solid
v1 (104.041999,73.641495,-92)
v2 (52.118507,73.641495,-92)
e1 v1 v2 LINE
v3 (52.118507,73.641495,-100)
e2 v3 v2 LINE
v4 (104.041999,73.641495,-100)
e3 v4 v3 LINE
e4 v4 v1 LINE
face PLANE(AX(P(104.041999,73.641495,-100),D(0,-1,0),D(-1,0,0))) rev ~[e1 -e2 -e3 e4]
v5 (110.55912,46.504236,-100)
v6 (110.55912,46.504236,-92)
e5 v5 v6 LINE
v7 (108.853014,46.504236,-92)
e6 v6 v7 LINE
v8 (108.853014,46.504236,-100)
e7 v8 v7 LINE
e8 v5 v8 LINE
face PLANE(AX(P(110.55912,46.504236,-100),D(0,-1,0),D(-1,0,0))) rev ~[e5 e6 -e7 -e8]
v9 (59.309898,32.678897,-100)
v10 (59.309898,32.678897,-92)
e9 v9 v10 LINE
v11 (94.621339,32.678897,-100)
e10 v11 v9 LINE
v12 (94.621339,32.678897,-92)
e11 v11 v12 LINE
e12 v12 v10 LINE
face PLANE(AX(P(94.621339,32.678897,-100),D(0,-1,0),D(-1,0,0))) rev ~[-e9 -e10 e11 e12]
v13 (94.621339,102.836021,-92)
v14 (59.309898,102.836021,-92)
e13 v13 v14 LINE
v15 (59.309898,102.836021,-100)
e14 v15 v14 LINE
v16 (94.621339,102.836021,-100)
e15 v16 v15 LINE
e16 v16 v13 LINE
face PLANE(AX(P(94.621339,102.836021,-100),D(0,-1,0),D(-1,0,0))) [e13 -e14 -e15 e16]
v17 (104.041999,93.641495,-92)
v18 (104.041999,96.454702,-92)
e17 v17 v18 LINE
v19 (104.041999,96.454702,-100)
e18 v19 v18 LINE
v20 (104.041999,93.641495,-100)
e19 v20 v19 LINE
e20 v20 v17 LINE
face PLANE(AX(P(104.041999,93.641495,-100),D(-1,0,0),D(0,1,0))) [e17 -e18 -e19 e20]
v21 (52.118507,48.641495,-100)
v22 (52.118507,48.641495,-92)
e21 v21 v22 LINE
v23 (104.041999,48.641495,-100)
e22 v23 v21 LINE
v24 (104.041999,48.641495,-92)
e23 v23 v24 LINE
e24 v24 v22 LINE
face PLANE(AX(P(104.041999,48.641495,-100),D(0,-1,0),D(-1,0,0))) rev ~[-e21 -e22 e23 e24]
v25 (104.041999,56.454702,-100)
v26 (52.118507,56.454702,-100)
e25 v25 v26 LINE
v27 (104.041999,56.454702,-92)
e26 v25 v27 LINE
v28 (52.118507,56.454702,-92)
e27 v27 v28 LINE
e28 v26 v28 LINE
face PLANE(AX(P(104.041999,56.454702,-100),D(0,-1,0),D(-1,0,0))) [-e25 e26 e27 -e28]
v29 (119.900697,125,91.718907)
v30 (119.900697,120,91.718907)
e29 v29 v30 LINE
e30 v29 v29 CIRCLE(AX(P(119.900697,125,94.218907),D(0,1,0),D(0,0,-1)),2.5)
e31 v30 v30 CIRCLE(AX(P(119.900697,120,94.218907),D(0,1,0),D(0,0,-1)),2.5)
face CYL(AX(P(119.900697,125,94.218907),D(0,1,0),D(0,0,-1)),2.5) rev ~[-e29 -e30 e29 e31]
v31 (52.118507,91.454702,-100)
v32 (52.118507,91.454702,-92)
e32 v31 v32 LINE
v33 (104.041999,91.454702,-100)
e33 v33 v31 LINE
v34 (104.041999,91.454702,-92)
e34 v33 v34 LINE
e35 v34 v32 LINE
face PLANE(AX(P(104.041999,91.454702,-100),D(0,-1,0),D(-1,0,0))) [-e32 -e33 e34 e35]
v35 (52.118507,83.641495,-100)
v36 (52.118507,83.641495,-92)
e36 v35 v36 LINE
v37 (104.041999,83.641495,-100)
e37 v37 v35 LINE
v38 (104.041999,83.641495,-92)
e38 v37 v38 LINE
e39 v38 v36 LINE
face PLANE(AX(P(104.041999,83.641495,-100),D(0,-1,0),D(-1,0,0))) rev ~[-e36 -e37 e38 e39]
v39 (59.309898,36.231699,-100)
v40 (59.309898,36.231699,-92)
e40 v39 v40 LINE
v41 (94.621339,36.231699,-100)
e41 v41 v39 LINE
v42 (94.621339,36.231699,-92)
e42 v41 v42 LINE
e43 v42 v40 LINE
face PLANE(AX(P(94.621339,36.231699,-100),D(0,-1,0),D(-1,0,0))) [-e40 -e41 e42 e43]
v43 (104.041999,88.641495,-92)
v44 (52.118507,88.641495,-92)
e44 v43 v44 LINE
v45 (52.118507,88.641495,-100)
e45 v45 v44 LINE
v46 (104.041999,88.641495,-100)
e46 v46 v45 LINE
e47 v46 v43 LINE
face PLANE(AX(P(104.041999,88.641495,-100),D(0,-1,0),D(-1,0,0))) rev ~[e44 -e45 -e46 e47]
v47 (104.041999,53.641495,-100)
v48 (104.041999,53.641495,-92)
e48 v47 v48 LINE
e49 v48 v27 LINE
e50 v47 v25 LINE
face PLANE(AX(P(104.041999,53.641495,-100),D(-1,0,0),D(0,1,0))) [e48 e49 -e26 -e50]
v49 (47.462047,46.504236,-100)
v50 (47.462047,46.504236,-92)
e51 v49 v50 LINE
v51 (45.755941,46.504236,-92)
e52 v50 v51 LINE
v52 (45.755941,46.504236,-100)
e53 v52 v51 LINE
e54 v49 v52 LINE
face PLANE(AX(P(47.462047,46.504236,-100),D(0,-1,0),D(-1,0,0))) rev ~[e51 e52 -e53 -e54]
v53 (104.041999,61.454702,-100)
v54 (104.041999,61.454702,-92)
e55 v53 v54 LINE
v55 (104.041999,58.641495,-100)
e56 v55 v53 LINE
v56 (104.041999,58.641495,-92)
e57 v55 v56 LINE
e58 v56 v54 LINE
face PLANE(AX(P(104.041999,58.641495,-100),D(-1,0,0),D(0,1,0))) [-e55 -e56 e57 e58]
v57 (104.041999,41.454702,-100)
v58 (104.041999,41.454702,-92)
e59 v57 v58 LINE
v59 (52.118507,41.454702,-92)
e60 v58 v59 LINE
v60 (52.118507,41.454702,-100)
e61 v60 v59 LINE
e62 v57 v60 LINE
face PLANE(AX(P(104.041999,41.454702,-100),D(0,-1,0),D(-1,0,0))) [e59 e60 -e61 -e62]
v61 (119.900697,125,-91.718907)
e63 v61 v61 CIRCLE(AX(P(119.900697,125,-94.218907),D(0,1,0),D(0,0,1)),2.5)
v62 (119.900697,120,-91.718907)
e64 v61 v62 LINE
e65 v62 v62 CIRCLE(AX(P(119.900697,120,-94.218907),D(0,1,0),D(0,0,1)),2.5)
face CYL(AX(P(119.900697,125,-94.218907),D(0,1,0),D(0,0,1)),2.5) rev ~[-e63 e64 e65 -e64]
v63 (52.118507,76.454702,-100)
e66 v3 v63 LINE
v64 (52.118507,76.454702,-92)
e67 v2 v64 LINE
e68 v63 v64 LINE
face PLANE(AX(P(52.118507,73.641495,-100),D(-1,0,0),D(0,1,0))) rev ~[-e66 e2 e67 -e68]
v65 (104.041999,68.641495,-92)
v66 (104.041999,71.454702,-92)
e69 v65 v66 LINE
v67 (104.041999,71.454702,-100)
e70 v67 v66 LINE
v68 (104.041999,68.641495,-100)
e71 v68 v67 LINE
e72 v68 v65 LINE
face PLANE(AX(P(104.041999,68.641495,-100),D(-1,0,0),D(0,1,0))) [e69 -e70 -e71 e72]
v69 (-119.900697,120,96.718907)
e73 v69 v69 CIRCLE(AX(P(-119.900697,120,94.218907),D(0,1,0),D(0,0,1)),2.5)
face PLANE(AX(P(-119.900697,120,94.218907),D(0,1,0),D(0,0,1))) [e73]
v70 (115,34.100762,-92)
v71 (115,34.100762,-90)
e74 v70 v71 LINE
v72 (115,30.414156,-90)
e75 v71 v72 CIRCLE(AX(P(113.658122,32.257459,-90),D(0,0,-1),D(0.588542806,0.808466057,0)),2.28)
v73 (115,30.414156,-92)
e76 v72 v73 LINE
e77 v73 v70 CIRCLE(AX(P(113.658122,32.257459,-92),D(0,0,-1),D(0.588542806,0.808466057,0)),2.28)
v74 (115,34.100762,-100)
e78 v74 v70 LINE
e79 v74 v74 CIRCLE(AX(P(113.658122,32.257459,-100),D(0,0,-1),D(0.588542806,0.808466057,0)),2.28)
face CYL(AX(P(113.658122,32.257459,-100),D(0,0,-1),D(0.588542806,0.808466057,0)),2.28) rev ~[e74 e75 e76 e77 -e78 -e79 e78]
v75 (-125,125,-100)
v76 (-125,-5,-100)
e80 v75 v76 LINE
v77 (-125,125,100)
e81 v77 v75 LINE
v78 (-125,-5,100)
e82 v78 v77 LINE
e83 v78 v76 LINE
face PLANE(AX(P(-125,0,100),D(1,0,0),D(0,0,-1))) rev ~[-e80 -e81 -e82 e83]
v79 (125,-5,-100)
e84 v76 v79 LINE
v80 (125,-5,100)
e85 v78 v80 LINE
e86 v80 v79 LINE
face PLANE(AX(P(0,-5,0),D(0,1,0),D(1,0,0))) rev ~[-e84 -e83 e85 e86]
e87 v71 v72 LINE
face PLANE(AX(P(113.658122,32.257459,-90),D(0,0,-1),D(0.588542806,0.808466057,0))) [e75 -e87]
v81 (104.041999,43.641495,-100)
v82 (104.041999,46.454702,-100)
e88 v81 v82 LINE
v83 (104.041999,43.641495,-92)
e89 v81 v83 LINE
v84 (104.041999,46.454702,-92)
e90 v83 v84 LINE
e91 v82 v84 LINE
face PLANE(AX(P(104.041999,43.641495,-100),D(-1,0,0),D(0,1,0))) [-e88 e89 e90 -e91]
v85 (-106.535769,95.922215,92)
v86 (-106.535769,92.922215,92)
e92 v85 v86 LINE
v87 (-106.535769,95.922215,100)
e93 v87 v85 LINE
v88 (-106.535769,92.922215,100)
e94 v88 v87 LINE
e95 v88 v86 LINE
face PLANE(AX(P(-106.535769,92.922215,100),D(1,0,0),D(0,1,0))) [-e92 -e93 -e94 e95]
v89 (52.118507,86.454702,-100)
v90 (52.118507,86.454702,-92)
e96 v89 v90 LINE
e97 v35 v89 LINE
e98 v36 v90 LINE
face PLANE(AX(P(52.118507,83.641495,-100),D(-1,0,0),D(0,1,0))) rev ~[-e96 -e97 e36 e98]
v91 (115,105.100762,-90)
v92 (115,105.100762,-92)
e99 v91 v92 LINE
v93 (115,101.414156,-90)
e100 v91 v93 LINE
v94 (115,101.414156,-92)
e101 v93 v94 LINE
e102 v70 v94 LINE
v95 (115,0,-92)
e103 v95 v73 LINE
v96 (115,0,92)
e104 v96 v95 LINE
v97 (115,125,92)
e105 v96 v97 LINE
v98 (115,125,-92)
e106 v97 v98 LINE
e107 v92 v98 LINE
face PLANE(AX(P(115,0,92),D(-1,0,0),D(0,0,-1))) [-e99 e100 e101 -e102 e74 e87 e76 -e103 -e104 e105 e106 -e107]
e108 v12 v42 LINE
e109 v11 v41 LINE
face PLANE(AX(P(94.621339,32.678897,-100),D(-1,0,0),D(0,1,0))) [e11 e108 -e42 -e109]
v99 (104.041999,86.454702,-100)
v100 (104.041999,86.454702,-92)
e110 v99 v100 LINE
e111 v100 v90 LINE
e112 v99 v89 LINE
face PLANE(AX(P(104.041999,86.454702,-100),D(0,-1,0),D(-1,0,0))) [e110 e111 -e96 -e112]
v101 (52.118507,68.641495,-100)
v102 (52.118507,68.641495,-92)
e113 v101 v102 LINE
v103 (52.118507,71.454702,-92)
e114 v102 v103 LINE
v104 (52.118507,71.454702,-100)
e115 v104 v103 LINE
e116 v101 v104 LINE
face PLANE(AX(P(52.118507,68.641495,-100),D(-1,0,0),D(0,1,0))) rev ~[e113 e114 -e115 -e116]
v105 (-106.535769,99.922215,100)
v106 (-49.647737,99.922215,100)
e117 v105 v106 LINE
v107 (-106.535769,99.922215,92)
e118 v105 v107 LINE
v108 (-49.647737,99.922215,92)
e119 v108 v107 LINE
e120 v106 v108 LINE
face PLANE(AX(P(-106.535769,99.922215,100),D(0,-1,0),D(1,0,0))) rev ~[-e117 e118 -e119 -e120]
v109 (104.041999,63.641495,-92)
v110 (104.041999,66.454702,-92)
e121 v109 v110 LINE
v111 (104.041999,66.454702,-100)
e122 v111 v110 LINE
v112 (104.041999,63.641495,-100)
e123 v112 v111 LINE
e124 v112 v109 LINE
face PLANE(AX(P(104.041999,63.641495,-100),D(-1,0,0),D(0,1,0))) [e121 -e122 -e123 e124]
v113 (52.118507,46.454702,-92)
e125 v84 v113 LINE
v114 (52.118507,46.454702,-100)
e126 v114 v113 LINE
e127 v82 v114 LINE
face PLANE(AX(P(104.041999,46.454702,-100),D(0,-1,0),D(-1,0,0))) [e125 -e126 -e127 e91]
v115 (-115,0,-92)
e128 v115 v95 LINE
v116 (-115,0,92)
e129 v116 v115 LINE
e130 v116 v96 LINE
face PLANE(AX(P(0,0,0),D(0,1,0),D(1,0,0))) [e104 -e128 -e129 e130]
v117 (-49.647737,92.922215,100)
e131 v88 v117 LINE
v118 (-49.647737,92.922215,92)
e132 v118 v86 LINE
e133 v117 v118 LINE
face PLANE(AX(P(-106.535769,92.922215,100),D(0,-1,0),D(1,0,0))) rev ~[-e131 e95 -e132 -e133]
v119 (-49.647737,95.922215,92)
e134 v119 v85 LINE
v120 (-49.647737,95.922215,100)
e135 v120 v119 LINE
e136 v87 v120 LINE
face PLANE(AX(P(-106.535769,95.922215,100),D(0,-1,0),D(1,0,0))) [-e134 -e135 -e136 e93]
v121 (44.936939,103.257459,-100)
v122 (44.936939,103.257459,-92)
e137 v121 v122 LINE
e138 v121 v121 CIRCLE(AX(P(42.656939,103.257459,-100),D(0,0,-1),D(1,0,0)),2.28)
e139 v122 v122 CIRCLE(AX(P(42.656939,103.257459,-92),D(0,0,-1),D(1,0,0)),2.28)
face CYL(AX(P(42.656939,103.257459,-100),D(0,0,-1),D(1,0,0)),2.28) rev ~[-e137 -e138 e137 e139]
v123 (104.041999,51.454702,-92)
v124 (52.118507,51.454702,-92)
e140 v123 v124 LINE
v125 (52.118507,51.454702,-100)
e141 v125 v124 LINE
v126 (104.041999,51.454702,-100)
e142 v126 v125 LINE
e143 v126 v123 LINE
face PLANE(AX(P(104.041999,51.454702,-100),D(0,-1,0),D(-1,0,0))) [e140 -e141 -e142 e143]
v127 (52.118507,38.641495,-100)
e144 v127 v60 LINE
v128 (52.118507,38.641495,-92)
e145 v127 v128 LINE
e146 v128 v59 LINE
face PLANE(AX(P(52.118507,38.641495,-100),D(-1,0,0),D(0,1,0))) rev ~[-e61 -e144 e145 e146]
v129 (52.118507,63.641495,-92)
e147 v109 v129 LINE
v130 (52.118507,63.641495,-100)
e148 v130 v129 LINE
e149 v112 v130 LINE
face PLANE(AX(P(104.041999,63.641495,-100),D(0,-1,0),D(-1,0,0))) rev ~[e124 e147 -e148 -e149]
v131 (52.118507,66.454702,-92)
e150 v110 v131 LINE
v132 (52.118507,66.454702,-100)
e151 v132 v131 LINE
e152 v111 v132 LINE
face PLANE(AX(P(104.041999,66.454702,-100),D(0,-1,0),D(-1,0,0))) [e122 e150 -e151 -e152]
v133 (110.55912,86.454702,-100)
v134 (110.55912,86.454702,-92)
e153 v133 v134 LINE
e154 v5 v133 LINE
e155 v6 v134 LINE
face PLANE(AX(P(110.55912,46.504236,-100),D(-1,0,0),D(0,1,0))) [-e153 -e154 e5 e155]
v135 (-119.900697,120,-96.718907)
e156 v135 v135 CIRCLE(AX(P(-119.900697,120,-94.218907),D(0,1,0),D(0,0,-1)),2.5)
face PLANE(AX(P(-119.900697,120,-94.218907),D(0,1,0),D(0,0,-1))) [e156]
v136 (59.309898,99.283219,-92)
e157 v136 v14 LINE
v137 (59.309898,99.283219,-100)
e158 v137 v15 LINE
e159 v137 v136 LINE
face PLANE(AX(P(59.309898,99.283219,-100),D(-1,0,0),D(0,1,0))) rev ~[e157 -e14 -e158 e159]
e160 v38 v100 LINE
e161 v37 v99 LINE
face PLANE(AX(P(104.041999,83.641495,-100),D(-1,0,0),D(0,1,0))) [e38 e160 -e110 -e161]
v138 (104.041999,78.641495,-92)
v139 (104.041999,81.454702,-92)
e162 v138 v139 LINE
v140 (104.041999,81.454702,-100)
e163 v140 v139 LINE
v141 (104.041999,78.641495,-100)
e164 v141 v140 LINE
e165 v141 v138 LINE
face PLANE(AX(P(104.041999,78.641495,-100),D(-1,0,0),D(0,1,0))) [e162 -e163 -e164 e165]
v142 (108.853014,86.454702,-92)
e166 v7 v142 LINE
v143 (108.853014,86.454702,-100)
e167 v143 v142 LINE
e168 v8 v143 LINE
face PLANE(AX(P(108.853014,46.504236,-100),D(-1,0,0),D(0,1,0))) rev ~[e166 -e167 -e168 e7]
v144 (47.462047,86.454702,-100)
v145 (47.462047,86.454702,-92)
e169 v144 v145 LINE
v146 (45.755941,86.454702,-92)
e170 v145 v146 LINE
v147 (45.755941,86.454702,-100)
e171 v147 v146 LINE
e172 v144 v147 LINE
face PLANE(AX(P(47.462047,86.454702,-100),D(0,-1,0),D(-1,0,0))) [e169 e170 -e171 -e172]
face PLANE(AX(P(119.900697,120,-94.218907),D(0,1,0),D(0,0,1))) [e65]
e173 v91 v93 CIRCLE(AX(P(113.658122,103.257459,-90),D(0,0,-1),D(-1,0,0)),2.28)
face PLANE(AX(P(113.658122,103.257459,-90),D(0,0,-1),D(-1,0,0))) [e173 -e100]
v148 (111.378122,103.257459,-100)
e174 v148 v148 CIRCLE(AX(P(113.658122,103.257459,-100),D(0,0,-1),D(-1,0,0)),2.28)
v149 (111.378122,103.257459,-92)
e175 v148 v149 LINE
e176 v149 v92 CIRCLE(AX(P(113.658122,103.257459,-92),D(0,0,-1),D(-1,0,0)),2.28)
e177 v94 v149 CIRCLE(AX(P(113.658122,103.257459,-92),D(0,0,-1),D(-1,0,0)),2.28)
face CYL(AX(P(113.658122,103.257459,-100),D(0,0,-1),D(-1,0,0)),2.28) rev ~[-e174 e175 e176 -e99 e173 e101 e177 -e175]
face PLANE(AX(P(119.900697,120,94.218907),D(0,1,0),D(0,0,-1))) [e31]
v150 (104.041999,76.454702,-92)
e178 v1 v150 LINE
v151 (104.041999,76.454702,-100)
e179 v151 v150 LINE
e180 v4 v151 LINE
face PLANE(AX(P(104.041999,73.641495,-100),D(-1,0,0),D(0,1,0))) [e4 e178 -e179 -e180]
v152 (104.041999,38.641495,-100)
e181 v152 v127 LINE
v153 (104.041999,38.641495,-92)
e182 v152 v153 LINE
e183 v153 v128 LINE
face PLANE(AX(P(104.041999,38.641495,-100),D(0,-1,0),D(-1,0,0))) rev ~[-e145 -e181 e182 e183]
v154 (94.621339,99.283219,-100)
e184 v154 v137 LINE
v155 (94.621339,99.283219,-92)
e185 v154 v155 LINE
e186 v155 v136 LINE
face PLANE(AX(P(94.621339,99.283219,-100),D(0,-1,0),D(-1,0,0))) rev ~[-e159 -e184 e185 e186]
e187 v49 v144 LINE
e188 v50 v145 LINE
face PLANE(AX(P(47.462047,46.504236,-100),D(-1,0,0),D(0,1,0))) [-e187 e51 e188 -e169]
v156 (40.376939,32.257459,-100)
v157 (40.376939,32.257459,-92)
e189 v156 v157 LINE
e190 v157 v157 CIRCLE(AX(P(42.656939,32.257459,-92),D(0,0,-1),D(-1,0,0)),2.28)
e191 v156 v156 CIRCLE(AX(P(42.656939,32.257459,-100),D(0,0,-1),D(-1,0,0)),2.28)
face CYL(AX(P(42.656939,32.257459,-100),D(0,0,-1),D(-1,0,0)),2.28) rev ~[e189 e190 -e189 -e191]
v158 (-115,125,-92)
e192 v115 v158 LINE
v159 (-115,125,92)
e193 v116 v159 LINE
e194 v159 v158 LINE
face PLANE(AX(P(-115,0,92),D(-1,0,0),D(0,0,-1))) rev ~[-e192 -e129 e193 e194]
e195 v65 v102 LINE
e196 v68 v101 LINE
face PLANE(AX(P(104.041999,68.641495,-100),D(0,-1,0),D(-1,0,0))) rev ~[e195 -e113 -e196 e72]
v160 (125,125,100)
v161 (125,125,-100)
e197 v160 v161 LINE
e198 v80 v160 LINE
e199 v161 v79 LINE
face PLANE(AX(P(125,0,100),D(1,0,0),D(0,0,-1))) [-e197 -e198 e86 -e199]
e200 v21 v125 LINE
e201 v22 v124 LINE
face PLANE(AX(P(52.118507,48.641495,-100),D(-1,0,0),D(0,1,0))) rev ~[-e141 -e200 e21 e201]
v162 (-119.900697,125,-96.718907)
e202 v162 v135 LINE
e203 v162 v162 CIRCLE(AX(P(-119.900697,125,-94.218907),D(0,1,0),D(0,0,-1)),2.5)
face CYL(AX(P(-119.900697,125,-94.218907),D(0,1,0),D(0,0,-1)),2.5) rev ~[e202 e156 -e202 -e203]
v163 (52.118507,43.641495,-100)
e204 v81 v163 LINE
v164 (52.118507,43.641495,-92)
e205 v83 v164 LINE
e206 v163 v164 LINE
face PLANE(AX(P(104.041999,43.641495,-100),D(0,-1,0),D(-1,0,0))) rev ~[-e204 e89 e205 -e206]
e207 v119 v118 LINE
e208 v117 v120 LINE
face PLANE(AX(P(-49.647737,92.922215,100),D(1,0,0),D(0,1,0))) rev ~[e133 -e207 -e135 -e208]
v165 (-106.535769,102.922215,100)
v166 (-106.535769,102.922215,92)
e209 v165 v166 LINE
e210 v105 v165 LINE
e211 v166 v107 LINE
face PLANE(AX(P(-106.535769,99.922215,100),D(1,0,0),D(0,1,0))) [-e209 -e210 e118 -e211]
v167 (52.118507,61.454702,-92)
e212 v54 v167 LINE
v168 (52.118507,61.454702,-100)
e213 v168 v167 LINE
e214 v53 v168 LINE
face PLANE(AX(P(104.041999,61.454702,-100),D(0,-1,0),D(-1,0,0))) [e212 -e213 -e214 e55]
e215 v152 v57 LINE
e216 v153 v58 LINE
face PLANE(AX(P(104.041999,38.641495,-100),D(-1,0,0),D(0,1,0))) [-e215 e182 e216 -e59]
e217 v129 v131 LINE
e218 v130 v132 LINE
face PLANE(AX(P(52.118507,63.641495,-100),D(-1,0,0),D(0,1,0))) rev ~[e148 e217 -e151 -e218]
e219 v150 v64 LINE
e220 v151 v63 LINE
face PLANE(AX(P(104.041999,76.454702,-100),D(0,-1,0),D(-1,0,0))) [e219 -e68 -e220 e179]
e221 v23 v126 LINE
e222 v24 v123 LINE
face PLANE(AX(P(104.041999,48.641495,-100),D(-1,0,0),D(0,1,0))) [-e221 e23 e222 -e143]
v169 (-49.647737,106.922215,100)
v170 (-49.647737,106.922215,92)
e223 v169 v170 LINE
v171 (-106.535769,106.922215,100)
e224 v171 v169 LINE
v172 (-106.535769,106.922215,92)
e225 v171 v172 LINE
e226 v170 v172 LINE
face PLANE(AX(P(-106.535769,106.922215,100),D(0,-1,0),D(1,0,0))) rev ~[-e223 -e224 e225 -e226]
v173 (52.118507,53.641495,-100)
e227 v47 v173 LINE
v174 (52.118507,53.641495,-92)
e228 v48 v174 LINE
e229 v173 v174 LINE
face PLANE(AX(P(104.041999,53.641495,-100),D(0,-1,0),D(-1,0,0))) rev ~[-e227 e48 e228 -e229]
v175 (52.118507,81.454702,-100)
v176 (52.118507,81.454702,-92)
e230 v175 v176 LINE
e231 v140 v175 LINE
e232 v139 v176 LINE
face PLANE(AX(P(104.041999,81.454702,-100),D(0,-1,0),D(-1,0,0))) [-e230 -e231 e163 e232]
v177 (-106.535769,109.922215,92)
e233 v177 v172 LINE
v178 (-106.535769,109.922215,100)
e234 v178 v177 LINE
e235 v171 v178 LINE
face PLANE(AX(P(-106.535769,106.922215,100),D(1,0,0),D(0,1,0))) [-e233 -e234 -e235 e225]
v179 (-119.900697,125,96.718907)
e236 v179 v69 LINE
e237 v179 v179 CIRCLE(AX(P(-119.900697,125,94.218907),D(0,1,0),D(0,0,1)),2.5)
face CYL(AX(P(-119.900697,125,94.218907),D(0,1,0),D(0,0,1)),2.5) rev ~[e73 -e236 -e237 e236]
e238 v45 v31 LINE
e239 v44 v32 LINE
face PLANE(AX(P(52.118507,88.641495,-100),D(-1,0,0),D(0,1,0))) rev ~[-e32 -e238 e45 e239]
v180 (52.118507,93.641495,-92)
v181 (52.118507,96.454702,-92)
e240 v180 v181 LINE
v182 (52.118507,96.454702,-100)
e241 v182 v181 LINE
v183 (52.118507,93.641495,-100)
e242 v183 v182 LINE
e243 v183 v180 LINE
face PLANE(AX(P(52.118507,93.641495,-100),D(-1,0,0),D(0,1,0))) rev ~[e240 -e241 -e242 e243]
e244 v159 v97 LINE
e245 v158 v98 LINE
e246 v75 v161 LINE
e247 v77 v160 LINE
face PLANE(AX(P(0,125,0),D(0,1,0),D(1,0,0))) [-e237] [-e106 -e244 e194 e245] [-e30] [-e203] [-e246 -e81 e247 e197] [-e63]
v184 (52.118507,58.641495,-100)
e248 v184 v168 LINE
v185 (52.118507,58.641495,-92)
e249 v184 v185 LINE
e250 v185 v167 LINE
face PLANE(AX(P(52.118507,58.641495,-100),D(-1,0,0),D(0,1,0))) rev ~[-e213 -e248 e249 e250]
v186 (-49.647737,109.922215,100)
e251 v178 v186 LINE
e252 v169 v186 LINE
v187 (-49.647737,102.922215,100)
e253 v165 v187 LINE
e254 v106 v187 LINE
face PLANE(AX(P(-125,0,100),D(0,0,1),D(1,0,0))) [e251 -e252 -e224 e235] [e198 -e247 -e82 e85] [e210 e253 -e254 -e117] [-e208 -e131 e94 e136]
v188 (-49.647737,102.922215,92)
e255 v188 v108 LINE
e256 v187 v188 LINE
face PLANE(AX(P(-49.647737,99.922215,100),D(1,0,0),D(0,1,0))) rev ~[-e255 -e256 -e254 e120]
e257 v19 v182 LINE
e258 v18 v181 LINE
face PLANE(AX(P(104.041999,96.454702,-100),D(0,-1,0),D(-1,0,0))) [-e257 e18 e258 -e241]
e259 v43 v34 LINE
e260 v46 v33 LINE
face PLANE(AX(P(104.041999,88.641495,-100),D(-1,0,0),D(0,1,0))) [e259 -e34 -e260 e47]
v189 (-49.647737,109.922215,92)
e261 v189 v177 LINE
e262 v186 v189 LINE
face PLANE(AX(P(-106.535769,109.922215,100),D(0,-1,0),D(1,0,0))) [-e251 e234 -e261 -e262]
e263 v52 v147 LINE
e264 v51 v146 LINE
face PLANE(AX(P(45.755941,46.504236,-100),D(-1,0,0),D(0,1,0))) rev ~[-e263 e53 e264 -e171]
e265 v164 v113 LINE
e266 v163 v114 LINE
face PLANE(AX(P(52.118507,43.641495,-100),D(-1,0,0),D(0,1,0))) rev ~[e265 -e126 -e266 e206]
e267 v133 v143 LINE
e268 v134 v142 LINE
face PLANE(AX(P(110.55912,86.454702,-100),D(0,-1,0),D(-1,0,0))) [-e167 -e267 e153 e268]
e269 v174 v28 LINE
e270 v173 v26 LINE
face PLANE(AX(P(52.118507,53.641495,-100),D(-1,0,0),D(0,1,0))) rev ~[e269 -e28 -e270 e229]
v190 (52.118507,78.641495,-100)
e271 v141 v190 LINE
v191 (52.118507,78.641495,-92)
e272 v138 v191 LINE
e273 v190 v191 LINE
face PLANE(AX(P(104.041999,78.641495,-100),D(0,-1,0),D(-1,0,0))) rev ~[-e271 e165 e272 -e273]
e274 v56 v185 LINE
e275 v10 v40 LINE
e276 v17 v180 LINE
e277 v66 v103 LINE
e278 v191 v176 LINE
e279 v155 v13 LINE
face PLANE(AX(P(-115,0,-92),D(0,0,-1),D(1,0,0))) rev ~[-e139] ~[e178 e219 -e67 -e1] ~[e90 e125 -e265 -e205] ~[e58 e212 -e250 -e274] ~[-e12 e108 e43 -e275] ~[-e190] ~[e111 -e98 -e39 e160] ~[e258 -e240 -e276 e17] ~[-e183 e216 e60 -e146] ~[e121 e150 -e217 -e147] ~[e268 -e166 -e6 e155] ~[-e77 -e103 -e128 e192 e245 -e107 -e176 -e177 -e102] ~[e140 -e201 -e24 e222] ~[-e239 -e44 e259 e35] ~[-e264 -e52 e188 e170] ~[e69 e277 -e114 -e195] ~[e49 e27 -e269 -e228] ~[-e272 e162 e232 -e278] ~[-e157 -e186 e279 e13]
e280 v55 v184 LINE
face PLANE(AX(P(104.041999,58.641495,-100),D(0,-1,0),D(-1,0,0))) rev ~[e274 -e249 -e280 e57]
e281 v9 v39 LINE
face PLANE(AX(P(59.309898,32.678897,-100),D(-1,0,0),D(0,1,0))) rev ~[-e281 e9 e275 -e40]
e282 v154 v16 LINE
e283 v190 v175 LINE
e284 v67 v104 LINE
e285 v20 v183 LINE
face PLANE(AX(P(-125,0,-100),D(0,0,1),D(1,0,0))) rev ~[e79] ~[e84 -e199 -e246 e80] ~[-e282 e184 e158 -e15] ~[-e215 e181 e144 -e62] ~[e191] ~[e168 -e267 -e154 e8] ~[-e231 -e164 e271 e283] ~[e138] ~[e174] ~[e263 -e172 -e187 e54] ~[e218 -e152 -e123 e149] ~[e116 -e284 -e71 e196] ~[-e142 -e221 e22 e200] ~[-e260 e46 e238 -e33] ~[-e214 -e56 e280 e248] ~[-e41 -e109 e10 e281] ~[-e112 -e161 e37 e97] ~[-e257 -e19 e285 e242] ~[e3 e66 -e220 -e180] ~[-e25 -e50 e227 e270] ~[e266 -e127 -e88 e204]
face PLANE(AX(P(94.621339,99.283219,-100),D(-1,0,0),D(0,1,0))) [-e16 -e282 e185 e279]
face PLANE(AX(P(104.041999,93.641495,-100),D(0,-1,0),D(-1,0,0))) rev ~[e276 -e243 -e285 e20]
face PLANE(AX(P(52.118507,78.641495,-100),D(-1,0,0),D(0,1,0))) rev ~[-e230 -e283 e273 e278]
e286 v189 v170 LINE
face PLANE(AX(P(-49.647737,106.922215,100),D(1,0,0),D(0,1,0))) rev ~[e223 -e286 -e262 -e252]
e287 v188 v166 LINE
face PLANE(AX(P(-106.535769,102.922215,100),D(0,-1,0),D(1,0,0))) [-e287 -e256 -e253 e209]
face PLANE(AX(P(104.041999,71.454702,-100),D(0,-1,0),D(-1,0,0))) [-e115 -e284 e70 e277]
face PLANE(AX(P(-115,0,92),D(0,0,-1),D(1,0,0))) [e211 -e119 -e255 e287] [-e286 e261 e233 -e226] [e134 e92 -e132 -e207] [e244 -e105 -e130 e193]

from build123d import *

# Parameters (mm, degrees)
SKETCH1_W           = 250
SKETCH1_H           = 200
SKETCH1_W_2         = 230
SKETCH1_H_2         = 184
BOSS_EXTRUDE1_DEPTH = 125
SKETCH2_W           = 250
SKETCH2_H           = 200
BOSS_EXTRUDE2_DEPTH = 5
SKETCH3_R           = 2.5
CUT_EXTRUDE1_DEPTH  = 5
SKETCH4_W           = 56.888032222
SKETCH4_H           = 3
CUT_EXTRUDE2_DEPTH  = 10
SKETCH5_R           = 2.28
CUT_EXTRUDE3_DEPTH  = 10
SKETCH6_W           = 51.923491606
SKETCH6_H           = 2.813206455
SKETCH6_W_2         = 1.706106107
SKETCH6_H_2         = 39.950466237
SKETCH6_W_3         = 35.31144106
SKETCH6_H_3         = 3.552801372
CUT_EXTRUDE4_DEPTH  = 10


with BuildPart() as part:
    # Sketch1 → Boss-Extrude1 (new body)
    with BuildSketch(Plane(origin=(0, 0, 0), x_dir=(1, 0, 0), z_dir=(0, 1, 0))):
        Rectangle(SKETCH1_W, SKETCH1_H)
        Rectangle(SKETCH1_W_2, SKETCH1_H_2, mode=Mode.SUBTRACT)
    extrude(amount=BOSS_EXTRUDE1_DEPTH)

    # Sketch2 → Boss-Extrude2 (add)
    with BuildSketch(Plane(origin=(0, 0, 0), x_dir=(1, 0, 0), z_dir=(0, 1, 0))):
        Rectangle(SKETCH2_W, SKETCH2_H)
    extrude(amount=-BOSS_EXTRUDE2_DEPTH)

    # Sketch3 → Cut-Extrude1 (cut)
    with BuildSketch(Plane(origin=(0, 125, 0), x_dir=(1, 0, 0), z_dir=(0, 1, 0))):
        with Locations(Location((-119.900696791, -94.21890742, 0), (0, 0, 270))):
            Circle(SKETCH3_R)
        with Locations(Location((-119.900696791, 94.21890742, 0), (0, 0, 90))):
            Circle(SKETCH3_R)
        with Locations(Location((119.900696791, 94.21890742, 0), (0, 0, 270))):
            Circle(SKETCH3_R)
        with Locations(Location((119.900696791, -94.21890742, 0), (0, 0, 90))):
            Circle(SKETCH3_R)
    extrude(amount=-CUT_EXTRUDE1_DEPTH, mode=Mode.SUBTRACT)

    # Sketch4 → Cut-Extrude2 (cut)
    with BuildSketch(Plane.XY.offset(100)):
        with Locations((-78.091753323, 108.422214629)):
            Rectangle(SKETCH4_W, SKETCH4_H)
        with Locations((-78.091753323, 101.422214629)):
            Rectangle(SKETCH4_W, SKETCH4_H)
        with Locations((-78.091753323, 94.422214629)):
            Rectangle(SKETCH4_W, SKETCH4_H)
    extrude(amount=-CUT_EXTRUDE2_DEPTH, mode=Mode.SUBTRACT)

    # Sketch5 → Cut-Extrude3 (cut)
    with BuildSketch(Plane(origin=(0, 0, -100), x_dir=(-1, 0, 0), z_dir=(0, 0, -1))):
        with Locations((-42.656938609, 32.257458939)):
            Circle(SKETCH5_R)
        with Locations((-113.658122402, 103.257458939)):
            Circle(SKETCH5_R)
        with Locations(Location((-42.656938609, 103.257458939, 0), (0, 0, 180))):
            Circle(SKETCH5_R)
        with Locations(Location((-113.658122402, 32.257458939, 0), (0, 0, 126.053669341))):
            Circle(SKETCH5_R)
    extrude(amount=-CUT_EXTRUDE3_DEPTH, mode=Mode.SUBTRACT)

    # Sketch6 → Cut-Extrude4 (cut)
    with BuildSketch(Plane(origin=(0, 0, -100), x_dir=(-1, 0, 0), z_dir=(0, 0, -1))):
        with Locations((-78.080252777, 90.048098673)):
            Rectangle(SKETCH6_W, SKETCH6_H)
        with Locations((-78.080252777, 95.048098673)):
            Rectangle(SKETCH6_W, SKETCH6_H)
        with Locations((-78.080252777, 85.048098673)):
            Rectangle(SKETCH6_W, SKETCH6_H)
        with Locations((-78.080252777, 80.048098673)):
            Rectangle(SKETCH6_W, SKETCH6_H)
        with Locations((-78.080252777, 75.048098673)):
            Rectangle(SKETCH6_W, SKETCH6_H)
        with Locations((-78.080252777, 70.048098673)):
            Rectangle(SKETCH6_W, SKETCH6_H)
        with Locations((-78.080252777, 65.048098673)):
            Rectangle(SKETCH6_W, SKETCH6_H)
        with Locations((-78.080252777, 60.048098673)):
            Rectangle(SKETCH6_W, SKETCH6_H)
        with Locations((-78.080252777, 55.048098673)):
            Rectangle(SKETCH6_W, SKETCH6_H)
        with Locations((-78.080252777, 50.048098673)):
            Rectangle(SKETCH6_W, SKETCH6_H)
        with Locations((-78.080252777, 45.048098673)):
            Rectangle(SKETCH6_W, SKETCH6_H)
        with Locations((-78.080252777, 40.048098673)):
            Rectangle(SKETCH6_W, SKETCH6_H)
        with Locations((-109.706066926, 66.479468782)):
            Rectangle(SKETCH6_W_2, SKETCH6_H_2)
        with Locations((-46.608994087, 66.479468782)):
            Rectangle(SKETCH6_W_2, SKETCH6_H_2)
        with Locations((-76.965618839, 101.05962005)):
            Rectangle(SKETCH6_W_3, SKETCH6_H_3)
        with Locations((-76.965618839, 34.455297829)):
            Rectangle(SKETCH6_W_3, SKETCH6_H_3)
    extrude(amount=-CUT_EXTRUDE4_DEPTH, mode=Mode.SUBTRACT)


solid = part.part
